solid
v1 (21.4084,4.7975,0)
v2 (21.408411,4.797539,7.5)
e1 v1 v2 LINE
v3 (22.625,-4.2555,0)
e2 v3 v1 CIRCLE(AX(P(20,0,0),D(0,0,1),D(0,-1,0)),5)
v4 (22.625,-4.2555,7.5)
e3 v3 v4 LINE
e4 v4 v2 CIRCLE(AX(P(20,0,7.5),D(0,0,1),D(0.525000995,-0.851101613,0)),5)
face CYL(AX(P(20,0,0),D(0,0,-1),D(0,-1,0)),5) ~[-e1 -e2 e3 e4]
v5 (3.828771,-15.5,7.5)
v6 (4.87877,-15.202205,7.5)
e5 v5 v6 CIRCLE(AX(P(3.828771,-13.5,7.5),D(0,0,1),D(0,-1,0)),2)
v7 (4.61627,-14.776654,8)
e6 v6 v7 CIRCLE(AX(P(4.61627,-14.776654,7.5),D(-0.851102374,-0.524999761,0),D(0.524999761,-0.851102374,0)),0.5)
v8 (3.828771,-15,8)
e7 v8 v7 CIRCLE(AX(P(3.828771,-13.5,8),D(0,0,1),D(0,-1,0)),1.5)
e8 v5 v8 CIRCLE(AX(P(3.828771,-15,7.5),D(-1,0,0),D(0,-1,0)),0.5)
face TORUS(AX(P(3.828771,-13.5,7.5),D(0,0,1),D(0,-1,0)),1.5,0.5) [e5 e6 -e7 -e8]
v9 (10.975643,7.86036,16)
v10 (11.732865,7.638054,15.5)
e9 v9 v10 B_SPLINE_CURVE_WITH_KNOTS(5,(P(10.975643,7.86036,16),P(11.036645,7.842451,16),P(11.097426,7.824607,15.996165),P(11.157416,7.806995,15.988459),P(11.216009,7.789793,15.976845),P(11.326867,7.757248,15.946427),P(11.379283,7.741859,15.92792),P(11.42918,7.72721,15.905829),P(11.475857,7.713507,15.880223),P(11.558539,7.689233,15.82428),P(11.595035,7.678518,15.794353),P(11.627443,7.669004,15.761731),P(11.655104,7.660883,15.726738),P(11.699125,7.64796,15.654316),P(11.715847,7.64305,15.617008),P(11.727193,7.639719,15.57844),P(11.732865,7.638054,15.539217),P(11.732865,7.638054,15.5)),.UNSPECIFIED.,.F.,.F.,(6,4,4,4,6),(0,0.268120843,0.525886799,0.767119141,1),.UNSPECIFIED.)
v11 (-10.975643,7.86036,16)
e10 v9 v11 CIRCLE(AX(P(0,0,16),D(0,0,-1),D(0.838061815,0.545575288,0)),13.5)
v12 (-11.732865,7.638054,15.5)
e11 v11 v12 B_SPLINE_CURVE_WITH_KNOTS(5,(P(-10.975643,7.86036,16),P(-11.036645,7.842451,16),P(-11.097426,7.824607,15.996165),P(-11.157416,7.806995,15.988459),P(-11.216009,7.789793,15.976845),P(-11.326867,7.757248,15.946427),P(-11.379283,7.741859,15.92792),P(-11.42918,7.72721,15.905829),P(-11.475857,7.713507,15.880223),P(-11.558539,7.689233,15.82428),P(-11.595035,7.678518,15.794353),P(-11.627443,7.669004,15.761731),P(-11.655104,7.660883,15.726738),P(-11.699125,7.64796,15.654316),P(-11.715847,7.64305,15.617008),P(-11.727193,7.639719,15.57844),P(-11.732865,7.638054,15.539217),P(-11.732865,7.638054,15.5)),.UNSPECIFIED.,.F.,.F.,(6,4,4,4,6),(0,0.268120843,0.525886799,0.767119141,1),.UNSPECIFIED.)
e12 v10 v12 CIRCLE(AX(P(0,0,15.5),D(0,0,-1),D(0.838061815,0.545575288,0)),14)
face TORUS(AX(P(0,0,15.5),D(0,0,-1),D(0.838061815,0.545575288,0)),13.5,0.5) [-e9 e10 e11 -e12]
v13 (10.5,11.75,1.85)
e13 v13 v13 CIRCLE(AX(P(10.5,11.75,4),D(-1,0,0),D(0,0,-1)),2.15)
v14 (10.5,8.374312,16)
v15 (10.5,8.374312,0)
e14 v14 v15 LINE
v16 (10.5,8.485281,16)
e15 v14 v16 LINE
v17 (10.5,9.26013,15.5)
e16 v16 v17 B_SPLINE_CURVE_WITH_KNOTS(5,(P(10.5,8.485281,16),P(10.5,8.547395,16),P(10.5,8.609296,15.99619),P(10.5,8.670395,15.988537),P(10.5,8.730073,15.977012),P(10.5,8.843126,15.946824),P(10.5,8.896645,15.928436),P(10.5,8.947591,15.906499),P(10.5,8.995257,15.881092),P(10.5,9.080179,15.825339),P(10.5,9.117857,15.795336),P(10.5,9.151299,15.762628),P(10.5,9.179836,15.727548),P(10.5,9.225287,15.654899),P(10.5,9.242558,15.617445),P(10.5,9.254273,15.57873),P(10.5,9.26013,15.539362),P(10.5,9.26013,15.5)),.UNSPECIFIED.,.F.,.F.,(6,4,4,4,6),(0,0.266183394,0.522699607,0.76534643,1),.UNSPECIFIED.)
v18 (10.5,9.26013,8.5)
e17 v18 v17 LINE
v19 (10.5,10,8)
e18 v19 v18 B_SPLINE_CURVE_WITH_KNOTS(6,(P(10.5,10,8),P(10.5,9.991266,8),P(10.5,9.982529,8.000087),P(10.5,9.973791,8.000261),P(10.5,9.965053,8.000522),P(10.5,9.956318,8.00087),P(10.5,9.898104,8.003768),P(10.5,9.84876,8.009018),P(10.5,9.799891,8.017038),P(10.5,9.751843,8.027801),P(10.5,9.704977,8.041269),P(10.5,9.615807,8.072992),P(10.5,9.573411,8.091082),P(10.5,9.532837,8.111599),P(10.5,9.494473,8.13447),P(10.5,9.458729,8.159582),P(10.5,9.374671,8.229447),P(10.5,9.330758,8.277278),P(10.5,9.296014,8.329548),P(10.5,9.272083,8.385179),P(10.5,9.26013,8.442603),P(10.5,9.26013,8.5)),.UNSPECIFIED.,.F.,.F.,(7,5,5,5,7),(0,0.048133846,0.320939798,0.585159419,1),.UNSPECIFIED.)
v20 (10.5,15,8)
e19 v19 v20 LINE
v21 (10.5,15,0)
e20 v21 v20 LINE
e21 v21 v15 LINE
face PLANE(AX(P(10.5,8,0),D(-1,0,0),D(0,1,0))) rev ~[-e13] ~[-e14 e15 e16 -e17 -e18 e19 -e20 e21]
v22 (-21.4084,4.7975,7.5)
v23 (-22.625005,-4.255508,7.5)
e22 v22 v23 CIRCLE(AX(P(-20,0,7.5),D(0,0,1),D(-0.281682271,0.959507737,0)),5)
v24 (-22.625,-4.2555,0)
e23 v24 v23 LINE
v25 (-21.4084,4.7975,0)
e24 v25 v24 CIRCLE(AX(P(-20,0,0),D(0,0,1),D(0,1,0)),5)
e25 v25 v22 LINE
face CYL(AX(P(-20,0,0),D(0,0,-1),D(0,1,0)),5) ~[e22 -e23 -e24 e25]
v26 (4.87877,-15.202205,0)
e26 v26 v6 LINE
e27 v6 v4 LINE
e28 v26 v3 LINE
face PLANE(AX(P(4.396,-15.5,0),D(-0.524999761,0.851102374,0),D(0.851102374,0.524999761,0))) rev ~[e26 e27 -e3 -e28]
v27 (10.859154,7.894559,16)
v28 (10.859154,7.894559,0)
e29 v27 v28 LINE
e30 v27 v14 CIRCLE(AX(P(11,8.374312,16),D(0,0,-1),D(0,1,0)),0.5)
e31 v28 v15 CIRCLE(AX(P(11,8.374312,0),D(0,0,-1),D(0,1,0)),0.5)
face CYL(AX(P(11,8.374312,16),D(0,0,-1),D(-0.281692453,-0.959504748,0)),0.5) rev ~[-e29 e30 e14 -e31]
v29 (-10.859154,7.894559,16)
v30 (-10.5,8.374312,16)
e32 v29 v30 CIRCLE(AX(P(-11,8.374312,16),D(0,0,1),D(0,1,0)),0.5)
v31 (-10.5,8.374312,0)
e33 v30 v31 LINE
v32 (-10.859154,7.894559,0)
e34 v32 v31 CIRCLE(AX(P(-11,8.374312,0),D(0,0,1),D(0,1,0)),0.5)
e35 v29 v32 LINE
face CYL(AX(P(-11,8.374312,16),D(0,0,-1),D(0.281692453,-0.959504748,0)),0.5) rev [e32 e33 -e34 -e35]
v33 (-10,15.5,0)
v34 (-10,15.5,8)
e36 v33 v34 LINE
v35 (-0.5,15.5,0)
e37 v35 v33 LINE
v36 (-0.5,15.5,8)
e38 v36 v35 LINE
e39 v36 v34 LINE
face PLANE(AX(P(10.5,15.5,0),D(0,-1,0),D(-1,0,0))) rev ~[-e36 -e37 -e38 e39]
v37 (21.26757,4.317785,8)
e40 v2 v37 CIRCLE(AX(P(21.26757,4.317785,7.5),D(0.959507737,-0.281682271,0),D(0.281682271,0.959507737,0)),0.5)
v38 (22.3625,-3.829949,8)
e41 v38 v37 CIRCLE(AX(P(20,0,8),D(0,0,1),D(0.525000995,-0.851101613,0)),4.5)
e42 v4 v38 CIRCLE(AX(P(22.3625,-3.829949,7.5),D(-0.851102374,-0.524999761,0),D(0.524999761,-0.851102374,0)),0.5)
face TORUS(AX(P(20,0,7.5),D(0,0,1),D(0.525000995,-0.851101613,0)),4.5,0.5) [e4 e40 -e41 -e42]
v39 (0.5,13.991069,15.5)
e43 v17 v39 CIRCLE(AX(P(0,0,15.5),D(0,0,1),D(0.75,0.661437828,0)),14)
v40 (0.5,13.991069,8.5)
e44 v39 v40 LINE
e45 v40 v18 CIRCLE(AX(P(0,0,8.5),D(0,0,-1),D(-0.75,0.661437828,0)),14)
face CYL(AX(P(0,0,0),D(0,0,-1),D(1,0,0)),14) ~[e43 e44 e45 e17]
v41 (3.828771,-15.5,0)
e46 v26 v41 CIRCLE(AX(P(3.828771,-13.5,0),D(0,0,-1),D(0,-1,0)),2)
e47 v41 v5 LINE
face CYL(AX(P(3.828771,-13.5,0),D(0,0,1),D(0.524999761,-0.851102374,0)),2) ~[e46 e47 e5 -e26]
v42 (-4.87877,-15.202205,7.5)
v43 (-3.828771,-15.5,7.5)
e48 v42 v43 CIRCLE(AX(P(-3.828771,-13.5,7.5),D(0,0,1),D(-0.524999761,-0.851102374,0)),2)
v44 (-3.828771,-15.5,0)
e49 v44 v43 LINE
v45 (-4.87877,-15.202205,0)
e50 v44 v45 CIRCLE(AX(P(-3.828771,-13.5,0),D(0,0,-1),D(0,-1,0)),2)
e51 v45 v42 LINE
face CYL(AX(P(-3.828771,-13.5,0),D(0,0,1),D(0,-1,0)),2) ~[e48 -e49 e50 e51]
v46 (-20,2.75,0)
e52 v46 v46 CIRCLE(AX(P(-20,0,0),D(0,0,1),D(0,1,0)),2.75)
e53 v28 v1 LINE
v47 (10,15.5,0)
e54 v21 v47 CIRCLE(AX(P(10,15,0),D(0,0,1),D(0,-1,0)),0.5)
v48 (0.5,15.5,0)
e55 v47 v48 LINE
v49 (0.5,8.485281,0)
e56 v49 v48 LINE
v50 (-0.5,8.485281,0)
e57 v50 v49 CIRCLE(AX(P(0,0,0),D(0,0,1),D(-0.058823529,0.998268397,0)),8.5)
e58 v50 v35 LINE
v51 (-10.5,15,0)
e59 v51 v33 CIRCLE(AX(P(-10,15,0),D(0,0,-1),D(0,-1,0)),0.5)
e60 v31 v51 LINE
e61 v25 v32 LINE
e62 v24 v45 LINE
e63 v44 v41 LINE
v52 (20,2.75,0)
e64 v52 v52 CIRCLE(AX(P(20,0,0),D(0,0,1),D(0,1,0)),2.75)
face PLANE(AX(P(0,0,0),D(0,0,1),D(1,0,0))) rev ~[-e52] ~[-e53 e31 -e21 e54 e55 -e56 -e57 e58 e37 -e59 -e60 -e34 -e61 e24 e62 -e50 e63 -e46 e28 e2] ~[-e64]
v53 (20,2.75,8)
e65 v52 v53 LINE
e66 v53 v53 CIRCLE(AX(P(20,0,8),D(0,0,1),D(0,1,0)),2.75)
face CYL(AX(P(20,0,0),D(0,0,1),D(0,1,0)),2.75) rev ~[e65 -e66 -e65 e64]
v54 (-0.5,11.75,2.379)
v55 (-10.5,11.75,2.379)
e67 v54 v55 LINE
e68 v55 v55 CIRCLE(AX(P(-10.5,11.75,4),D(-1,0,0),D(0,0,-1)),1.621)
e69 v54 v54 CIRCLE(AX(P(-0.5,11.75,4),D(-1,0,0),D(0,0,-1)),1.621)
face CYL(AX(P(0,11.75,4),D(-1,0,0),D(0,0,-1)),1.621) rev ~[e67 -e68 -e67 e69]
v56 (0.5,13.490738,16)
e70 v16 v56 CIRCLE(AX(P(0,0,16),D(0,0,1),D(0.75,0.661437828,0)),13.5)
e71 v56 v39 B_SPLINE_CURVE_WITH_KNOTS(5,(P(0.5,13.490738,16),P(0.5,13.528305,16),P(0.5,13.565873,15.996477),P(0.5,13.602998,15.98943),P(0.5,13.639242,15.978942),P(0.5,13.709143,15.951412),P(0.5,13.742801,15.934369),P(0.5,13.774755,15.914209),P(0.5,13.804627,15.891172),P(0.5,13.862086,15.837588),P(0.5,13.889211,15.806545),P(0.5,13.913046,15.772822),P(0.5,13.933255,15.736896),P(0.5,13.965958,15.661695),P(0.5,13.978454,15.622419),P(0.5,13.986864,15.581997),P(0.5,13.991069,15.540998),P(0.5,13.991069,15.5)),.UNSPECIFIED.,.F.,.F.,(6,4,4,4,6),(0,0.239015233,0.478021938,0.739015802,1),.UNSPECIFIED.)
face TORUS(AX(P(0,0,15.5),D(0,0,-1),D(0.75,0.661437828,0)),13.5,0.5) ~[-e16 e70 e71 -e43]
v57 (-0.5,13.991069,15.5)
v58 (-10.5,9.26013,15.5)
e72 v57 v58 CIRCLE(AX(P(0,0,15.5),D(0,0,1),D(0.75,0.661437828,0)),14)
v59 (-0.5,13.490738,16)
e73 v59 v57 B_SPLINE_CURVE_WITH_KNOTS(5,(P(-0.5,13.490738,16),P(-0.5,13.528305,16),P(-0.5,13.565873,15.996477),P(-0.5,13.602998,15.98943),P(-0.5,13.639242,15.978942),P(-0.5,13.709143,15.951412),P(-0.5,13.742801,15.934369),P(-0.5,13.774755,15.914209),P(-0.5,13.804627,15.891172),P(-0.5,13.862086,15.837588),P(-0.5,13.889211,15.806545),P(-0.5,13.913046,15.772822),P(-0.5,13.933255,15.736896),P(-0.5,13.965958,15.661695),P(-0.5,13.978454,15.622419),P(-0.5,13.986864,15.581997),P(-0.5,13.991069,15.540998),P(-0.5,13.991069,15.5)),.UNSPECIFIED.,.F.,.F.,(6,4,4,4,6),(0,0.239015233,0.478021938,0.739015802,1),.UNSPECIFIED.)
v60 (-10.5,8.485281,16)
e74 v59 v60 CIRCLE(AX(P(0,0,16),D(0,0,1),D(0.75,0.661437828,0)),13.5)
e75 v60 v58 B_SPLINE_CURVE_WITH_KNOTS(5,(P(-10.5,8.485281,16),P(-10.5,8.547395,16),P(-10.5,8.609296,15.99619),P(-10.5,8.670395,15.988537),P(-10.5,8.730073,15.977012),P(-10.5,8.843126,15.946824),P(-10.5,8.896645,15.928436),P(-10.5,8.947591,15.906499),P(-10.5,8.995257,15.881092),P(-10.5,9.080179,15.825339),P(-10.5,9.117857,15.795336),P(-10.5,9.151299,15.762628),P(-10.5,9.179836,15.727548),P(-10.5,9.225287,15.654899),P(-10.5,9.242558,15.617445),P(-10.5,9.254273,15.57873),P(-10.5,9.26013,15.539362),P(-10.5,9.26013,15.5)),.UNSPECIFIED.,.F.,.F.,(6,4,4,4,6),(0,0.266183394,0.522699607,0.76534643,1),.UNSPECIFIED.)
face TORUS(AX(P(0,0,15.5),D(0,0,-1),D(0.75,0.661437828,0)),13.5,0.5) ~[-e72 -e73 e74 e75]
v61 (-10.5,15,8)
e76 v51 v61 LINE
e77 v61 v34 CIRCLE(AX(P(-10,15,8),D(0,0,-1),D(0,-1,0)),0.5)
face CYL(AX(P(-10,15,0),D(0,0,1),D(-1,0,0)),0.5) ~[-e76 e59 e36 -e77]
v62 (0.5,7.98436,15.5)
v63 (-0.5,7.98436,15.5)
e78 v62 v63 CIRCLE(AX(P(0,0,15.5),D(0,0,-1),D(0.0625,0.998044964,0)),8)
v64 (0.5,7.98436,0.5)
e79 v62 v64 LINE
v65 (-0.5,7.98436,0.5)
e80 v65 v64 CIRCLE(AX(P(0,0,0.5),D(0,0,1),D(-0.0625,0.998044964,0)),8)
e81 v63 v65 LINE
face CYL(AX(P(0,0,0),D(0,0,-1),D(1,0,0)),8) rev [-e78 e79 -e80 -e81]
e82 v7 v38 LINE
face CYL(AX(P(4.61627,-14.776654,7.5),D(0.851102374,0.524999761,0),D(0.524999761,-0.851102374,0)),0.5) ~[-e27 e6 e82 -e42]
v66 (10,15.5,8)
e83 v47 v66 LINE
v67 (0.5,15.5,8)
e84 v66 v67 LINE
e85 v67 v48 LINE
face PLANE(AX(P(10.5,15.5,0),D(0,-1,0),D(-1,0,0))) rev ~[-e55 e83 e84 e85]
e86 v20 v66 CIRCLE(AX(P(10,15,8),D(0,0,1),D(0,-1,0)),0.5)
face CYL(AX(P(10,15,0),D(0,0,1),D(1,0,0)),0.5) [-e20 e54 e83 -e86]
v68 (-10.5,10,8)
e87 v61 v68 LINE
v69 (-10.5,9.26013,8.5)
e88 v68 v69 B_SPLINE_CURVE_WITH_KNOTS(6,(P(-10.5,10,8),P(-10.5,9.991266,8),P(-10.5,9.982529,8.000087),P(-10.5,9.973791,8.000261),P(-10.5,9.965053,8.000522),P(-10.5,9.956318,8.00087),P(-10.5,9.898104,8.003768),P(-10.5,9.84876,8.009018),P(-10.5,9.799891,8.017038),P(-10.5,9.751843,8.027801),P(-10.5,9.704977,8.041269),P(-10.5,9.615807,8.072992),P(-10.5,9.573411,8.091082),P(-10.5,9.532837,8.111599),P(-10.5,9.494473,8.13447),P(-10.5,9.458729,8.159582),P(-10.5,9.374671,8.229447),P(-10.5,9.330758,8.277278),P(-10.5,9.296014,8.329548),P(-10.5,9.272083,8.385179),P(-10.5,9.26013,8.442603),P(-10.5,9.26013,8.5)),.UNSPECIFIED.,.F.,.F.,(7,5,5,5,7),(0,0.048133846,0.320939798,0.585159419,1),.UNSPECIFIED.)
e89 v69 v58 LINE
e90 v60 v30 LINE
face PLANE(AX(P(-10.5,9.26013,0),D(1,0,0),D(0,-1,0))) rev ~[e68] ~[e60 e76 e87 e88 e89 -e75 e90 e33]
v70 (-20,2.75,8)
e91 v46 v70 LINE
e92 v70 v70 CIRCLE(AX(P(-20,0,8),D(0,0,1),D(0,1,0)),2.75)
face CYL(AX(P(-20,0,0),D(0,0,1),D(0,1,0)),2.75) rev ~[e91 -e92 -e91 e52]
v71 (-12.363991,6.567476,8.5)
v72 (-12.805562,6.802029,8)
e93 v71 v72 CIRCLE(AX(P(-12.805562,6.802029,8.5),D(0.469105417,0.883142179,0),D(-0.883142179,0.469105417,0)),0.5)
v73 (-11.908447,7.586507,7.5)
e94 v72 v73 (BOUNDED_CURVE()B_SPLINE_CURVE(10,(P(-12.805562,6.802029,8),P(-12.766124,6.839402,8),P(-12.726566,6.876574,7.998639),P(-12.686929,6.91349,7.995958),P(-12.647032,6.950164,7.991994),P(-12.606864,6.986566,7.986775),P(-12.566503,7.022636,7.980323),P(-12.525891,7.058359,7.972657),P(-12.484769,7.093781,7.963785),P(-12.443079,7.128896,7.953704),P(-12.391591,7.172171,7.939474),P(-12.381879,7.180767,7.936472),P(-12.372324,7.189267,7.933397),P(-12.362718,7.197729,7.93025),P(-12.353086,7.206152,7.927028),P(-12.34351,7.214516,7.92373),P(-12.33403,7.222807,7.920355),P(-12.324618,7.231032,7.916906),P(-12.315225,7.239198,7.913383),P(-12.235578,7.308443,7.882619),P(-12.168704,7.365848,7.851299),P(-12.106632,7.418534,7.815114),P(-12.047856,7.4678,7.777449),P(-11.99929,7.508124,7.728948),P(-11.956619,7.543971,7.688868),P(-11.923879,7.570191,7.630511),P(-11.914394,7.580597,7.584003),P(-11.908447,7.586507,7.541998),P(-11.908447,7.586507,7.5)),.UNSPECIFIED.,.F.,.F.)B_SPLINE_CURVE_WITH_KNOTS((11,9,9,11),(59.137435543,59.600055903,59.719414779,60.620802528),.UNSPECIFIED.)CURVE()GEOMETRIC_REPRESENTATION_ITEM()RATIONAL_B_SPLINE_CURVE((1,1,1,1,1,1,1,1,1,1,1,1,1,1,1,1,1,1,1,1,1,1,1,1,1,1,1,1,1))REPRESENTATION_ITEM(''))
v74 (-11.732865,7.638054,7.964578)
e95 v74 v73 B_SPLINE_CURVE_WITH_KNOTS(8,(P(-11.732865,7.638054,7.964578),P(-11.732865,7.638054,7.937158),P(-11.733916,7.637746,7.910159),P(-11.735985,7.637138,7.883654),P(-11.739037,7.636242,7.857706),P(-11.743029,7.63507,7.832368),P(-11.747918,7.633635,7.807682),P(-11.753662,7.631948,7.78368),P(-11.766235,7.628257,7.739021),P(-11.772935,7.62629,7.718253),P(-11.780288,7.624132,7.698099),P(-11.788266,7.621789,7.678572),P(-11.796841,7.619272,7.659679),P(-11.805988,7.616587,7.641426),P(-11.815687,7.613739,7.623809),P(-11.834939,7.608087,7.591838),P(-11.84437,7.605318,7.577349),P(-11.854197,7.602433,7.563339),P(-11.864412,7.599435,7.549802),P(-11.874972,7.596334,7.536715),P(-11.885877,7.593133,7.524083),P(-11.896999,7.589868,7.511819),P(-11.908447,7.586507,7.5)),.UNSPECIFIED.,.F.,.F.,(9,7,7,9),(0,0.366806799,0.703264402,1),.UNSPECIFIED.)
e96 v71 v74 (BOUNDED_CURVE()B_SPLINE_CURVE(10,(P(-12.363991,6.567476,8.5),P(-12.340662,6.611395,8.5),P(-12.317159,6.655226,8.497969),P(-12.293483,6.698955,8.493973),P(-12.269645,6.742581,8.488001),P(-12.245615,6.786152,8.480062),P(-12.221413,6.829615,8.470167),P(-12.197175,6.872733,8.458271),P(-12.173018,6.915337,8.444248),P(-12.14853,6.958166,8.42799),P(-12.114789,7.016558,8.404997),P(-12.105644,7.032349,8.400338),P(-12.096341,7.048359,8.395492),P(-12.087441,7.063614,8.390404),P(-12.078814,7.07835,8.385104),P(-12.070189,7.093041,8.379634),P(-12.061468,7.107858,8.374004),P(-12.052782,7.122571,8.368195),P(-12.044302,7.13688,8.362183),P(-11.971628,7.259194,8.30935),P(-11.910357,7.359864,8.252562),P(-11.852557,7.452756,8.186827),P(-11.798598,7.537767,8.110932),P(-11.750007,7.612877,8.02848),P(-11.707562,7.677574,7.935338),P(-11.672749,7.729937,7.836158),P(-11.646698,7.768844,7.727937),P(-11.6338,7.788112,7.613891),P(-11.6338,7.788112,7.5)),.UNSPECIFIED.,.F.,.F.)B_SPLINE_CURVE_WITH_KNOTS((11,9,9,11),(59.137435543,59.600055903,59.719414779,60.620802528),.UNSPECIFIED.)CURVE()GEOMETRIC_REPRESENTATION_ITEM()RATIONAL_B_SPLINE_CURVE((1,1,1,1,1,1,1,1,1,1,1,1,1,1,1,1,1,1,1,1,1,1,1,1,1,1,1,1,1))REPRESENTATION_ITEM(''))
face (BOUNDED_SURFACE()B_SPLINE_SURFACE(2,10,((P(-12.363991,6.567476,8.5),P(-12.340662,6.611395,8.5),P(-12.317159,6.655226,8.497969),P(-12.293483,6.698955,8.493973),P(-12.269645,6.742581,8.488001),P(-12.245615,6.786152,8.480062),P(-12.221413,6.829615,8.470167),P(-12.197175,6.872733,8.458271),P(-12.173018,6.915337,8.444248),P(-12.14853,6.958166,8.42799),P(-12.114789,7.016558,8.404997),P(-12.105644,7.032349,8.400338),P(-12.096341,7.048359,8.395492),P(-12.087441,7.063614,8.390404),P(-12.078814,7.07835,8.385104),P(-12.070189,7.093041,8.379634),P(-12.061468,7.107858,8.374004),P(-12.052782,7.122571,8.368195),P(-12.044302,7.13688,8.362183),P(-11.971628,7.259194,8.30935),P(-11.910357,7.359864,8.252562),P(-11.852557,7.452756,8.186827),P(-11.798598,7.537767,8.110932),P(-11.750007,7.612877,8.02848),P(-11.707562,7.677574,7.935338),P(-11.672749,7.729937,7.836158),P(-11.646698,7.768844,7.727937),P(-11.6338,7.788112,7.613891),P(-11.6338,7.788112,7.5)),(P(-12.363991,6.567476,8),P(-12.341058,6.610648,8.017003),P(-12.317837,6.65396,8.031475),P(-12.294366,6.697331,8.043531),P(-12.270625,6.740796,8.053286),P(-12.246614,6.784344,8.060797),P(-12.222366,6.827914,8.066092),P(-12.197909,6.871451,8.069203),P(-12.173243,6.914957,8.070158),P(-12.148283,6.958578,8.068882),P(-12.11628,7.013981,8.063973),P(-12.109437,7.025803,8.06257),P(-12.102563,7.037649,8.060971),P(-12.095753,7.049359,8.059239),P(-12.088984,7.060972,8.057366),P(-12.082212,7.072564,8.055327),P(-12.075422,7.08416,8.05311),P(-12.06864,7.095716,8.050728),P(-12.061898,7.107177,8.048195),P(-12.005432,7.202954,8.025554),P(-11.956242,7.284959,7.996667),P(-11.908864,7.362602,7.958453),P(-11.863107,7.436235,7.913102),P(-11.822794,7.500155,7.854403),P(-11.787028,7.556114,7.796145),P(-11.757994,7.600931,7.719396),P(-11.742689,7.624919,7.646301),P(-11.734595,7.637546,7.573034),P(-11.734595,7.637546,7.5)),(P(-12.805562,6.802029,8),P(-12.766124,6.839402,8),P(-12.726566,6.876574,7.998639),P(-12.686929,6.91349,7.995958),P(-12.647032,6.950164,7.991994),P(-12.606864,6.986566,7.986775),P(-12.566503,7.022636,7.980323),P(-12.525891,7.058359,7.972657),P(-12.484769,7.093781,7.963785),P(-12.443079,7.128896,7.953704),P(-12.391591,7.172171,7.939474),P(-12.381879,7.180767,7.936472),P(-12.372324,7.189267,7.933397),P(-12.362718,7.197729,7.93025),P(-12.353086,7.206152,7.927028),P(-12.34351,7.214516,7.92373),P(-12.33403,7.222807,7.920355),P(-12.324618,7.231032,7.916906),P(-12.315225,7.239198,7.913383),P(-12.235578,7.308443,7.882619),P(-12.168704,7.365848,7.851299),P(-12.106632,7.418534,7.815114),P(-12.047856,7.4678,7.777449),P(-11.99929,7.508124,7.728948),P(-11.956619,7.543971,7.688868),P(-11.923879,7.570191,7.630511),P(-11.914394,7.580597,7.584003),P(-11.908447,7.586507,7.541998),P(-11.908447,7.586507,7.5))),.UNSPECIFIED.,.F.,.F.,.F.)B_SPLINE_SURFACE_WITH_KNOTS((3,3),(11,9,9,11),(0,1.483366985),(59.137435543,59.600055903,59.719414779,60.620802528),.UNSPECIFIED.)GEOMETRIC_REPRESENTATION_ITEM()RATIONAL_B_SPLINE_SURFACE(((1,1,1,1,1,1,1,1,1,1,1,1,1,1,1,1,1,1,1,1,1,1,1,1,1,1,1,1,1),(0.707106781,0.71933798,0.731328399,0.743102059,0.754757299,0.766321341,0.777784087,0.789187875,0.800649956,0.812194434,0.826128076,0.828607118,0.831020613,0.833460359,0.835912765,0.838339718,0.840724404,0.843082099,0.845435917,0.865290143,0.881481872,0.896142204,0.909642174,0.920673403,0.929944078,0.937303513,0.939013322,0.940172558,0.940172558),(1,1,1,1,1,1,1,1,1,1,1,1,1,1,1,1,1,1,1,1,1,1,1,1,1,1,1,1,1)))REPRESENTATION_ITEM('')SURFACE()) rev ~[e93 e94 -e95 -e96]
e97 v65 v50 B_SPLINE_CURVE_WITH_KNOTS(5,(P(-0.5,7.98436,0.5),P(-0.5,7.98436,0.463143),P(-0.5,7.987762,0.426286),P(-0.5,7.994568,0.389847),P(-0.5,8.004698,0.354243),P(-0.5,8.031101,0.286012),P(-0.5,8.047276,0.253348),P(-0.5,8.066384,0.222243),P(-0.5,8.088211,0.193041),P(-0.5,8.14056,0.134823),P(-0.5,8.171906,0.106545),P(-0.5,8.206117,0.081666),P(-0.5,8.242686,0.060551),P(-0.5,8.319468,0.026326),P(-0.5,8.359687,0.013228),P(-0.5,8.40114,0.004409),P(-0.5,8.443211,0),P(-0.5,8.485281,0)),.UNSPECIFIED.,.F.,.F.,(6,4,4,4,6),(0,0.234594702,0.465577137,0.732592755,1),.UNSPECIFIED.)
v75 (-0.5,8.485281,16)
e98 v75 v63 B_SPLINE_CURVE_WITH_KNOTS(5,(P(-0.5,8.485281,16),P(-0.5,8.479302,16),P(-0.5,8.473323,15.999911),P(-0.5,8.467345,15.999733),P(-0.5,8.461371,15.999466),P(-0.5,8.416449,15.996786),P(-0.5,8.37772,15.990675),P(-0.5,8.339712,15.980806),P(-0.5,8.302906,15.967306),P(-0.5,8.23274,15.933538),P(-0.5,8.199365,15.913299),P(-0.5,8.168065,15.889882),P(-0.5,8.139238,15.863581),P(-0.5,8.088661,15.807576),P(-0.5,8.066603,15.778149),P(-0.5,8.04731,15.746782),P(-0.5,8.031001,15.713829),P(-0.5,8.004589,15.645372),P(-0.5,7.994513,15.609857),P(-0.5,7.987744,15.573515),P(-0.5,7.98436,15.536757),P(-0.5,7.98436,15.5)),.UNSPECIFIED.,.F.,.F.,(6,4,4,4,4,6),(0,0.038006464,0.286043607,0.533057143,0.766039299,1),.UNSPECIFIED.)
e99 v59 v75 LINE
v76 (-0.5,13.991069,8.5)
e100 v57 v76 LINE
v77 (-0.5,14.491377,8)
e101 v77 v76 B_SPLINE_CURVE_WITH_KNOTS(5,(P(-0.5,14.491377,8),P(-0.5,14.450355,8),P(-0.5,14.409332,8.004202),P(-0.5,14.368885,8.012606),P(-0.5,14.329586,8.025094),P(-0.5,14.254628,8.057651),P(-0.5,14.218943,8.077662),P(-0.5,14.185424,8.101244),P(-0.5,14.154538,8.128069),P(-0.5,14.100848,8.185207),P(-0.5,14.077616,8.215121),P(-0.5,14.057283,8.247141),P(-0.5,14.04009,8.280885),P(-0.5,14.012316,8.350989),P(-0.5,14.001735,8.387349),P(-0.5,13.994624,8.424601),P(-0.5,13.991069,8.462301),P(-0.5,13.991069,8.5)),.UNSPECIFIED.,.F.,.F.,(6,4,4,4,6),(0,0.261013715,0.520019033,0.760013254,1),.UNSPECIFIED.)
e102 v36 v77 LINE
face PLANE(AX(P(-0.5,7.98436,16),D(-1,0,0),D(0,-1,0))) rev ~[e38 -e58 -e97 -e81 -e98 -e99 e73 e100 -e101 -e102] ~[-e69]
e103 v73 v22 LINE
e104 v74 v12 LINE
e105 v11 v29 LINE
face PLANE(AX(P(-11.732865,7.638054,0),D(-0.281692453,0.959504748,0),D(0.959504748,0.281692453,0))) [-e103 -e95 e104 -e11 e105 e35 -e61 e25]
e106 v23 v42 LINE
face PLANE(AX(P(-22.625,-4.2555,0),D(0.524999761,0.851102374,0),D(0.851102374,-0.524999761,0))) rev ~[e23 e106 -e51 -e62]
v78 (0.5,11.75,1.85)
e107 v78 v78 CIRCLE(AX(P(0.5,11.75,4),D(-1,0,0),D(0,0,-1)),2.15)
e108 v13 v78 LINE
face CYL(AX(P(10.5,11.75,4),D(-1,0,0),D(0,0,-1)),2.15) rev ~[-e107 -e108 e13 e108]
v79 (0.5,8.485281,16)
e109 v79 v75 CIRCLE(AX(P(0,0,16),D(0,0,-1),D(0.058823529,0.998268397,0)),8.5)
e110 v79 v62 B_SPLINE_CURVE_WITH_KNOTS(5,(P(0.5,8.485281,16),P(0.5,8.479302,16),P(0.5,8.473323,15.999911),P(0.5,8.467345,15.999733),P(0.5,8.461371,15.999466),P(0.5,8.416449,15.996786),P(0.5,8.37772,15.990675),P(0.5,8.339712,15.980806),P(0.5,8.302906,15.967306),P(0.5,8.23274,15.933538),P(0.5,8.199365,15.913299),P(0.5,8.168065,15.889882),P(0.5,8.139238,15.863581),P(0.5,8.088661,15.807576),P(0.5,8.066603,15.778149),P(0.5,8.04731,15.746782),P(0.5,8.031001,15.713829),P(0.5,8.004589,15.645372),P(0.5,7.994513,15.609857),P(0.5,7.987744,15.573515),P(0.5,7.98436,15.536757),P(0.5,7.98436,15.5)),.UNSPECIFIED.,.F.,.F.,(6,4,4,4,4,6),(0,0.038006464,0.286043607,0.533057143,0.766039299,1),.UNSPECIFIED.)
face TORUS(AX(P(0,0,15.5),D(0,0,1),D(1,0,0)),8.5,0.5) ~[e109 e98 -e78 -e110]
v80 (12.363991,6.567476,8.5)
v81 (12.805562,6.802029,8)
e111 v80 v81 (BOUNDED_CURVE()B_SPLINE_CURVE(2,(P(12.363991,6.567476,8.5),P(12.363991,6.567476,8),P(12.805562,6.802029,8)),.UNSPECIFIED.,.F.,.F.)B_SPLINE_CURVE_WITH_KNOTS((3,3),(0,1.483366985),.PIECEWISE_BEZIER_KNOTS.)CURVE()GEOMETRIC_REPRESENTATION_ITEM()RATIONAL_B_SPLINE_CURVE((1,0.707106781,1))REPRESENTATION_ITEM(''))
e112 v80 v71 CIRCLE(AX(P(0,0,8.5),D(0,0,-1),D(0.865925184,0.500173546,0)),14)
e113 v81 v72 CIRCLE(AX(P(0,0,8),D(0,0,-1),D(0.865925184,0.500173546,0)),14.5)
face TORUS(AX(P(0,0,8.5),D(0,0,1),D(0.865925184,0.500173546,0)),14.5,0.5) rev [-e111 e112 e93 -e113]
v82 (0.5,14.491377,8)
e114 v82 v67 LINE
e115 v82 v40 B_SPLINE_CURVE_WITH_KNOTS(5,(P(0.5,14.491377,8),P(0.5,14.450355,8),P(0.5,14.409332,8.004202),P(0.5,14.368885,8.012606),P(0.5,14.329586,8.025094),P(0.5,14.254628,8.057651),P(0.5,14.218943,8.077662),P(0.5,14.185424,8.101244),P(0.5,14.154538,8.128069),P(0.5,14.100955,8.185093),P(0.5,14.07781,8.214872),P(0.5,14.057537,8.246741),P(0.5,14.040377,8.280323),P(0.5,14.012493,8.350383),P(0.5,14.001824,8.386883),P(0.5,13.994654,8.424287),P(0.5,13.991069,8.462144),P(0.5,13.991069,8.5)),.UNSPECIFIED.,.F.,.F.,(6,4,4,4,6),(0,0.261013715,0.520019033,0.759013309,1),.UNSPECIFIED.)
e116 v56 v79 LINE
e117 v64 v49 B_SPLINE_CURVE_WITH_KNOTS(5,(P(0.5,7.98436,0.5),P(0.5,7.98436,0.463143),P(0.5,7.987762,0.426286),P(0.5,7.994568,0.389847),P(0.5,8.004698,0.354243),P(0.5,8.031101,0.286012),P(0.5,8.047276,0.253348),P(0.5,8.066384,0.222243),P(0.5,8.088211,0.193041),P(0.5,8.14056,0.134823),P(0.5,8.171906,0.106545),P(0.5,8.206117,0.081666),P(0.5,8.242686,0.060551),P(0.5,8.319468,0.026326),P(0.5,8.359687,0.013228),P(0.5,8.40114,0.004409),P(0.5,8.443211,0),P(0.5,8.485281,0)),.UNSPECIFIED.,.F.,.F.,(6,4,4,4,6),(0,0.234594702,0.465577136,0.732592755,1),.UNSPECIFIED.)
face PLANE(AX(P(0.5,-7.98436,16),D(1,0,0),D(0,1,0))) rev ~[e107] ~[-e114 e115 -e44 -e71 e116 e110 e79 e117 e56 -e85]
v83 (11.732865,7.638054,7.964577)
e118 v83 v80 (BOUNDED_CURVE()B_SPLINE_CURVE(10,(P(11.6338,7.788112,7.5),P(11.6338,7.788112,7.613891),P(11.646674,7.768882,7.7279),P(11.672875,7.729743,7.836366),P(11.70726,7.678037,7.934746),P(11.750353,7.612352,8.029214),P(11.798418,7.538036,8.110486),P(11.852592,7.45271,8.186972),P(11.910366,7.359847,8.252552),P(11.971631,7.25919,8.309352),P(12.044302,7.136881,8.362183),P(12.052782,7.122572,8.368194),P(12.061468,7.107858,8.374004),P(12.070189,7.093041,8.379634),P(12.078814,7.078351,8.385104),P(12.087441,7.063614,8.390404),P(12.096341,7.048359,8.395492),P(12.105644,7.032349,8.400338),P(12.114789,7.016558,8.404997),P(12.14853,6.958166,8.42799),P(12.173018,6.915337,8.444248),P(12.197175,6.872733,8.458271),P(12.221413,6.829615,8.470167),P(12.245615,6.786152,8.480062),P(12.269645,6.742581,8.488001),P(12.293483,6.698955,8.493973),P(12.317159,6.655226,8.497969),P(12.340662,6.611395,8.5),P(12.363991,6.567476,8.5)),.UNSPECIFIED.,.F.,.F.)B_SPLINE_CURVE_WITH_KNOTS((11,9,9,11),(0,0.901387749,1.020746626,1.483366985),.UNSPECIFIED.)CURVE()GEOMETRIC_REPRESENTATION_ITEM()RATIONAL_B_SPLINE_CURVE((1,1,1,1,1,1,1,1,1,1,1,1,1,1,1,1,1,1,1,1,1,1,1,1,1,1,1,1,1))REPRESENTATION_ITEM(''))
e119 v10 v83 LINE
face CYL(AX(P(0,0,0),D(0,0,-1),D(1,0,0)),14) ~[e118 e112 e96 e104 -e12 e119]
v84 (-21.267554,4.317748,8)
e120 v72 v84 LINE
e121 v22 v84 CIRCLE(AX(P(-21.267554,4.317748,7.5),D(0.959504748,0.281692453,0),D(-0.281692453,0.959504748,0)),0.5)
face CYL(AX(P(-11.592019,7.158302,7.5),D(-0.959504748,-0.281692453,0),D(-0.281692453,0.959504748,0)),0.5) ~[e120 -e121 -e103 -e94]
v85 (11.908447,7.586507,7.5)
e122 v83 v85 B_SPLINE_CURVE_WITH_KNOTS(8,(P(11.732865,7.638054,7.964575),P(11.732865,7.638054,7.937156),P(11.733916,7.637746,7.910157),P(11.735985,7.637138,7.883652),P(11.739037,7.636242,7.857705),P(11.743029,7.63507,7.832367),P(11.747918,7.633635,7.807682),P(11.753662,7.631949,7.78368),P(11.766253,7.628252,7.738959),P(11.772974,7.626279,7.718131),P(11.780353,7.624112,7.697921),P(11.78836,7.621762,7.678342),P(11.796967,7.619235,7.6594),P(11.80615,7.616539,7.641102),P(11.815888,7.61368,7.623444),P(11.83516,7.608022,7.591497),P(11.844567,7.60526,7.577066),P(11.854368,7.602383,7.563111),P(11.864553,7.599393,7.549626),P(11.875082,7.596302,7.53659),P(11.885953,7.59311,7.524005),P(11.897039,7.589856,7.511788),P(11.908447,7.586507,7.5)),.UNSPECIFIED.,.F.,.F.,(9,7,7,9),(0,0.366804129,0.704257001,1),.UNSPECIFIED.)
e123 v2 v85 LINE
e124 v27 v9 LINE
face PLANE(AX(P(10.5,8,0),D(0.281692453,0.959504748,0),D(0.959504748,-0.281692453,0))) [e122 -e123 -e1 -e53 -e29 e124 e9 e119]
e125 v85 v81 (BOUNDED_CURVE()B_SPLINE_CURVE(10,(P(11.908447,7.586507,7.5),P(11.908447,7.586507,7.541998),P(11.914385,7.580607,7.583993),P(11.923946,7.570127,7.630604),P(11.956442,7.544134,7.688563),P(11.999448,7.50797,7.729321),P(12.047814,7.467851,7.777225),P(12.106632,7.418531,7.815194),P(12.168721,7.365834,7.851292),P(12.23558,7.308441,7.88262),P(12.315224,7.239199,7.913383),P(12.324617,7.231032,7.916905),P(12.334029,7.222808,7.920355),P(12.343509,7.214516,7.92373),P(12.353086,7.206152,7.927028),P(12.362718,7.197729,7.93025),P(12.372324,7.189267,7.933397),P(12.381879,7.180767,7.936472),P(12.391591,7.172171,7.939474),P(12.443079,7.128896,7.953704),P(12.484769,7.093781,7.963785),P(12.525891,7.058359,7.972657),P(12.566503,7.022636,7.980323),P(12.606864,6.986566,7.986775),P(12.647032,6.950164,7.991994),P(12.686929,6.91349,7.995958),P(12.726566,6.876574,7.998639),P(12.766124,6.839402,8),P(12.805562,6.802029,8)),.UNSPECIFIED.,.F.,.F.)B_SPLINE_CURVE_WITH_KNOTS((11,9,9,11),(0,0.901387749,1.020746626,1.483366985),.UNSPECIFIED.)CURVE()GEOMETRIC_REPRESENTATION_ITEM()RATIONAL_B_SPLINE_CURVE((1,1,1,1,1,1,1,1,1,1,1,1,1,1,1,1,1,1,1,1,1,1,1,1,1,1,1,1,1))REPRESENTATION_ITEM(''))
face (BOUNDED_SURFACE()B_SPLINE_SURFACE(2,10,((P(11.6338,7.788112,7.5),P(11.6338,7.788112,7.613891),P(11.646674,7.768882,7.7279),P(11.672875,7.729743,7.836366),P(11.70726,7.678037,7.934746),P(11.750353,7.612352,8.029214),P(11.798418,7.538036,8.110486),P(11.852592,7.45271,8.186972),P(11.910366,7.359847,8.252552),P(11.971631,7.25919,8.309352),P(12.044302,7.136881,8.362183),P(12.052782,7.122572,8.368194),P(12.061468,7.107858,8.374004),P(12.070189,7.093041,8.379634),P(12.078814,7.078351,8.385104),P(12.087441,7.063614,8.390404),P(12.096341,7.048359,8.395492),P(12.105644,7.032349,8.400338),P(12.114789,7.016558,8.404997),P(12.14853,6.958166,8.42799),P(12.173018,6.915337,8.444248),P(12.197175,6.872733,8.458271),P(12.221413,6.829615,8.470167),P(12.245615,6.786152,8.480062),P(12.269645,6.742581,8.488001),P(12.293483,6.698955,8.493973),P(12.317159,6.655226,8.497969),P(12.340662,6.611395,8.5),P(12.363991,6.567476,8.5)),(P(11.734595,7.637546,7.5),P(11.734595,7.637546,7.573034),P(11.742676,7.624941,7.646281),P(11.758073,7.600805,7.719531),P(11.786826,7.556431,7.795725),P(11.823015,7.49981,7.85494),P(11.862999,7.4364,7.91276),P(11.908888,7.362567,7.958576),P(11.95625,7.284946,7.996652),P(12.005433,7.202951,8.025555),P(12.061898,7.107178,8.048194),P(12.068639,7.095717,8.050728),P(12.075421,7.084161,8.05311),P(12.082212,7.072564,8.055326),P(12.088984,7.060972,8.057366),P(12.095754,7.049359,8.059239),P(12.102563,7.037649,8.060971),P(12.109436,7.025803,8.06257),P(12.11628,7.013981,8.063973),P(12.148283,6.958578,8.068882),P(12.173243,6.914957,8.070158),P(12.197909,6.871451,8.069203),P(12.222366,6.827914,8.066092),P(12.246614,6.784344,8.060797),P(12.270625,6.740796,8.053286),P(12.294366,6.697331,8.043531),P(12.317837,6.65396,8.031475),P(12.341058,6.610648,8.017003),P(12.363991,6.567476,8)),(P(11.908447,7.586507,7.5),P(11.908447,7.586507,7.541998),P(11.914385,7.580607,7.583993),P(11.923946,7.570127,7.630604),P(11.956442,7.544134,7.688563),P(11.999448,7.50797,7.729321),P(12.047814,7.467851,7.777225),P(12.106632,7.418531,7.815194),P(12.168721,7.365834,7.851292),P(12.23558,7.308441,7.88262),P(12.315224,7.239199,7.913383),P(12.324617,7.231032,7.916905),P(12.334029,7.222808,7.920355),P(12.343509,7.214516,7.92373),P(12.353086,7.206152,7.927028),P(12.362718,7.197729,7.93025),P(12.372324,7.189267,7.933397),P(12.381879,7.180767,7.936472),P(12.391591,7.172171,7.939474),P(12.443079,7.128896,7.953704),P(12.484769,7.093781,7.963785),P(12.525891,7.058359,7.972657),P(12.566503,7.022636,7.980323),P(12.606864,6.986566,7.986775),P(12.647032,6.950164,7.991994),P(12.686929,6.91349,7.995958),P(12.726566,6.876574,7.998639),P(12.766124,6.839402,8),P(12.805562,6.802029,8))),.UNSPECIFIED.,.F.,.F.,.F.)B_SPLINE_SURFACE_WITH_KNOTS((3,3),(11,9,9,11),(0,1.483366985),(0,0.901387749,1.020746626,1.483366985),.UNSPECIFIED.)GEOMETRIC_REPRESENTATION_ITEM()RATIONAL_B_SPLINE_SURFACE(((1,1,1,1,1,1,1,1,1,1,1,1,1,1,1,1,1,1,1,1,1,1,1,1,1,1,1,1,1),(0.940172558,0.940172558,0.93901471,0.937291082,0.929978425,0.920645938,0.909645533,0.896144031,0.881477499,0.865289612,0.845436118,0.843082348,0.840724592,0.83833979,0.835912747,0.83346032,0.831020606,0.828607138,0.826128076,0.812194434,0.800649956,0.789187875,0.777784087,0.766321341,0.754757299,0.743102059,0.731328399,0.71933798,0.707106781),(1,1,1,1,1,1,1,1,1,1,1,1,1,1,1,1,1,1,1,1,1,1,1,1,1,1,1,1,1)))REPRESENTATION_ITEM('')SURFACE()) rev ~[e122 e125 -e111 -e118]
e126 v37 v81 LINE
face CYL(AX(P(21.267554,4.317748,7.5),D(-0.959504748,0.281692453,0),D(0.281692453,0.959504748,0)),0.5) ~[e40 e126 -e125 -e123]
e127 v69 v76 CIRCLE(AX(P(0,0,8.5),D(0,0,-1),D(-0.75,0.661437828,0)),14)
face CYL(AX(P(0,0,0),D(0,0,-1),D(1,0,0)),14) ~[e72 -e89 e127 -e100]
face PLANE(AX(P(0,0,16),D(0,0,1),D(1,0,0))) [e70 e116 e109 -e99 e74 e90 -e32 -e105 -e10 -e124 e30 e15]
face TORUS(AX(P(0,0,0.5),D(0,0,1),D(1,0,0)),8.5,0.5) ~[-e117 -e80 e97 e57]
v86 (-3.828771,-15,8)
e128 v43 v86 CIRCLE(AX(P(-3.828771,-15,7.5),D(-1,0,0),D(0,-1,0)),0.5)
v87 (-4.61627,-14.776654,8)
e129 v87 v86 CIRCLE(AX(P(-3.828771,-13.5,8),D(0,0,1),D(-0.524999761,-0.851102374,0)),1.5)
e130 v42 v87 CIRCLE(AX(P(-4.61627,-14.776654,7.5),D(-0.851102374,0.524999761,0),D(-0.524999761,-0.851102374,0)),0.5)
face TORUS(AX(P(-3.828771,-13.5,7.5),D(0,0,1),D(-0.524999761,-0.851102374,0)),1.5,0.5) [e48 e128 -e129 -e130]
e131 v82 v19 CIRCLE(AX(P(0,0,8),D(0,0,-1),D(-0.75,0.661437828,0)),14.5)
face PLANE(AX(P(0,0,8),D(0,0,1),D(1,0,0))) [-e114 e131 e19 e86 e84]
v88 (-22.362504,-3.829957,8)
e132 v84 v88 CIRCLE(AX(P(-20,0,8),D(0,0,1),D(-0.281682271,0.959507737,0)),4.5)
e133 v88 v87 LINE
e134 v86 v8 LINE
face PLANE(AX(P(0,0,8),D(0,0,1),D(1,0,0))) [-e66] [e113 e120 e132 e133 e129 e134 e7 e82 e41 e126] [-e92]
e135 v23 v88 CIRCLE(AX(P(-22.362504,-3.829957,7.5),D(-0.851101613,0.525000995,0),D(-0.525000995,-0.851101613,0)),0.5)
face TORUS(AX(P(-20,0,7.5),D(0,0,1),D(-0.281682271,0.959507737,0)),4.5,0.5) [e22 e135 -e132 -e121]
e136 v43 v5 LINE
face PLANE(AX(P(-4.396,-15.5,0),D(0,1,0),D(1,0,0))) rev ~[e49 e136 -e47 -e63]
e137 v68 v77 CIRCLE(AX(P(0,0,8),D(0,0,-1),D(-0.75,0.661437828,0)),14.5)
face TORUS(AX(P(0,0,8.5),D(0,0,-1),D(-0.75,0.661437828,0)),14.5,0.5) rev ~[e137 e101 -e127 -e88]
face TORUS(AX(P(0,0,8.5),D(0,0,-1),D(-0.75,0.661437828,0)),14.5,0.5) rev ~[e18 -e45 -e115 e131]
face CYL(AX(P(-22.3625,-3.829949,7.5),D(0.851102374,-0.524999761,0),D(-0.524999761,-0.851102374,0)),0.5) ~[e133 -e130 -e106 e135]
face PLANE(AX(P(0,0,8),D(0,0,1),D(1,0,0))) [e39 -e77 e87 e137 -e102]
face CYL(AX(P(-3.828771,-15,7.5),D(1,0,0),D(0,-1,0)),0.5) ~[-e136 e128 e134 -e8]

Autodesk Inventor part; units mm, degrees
ref_plane "YZ Plane" through (0, 0, 0) normal (1, 0, 0) x (0, 1, 0)
ref_plane "XZ Plane" through (0, 0, 0) normal (0, 1, 0) x (-1, 0, 0)
sketch "Sketch1" plane through (0, 0, 0) normal (0, 0, 1) x (1, 0, 0)
  circle A0 centre (0, 0) radius 14
  circle A1 centre (0, 0) radius 8
  line L0 (-20, 0) -> (20, 0) construction
  line L1 (25, -15.5) -> (-25, -15.5) construction
  line L2 (-25, -15.5) -> (-25, 15.5) construction
  line L3 (-25, 15.5) -> (25, 15.5) construction
  line L4 (25, 15.5) -> (25, -15.5) construction
  line L5 (25, -15.5) -> (-25, 15.5) construction
  line L6 (-25, -15.5) -> (25, 15.5) construction
  line L7 (20, 0) -> (-20, 0) construction
  line L8 (20, 5) -> (-20, 5)
  line L9 (-20, -5) -> (20, -5)
  arc A2 (20, -5) -> (20, 5) centre (20, 0) ccw
  arc A3 (-20, 5) -> (-20, -5) centre (-20, 0) ccw
  circle A4 centre (0, 0) radius 15.5 construction
  line L10 (-22.625, -4.2555) -> (-4.396, -15.5)
  line L11 (-4.396, -15.5) -> (4.396, -15.5)
  line L12 (4.396, -15.5) -> (22.625, -4.2555)
  line L13 (10.5, 15.5) -> (-10.5, 15.5)
  line L14 (-10.5, 15.5) -> (-10.5, 8)
  line L15 (-10.5, 8) -> (10.5, 8)
  line L16 (10.5, 8) -> (10.5, 15.5)
  line L17 (10.5, 15.5) -> (-10.5, 8) construction
  line L18 (-10.5, 15.5) -> (10.5, 8) construction
  line L19 (-21.4084, 4.7975) -> (-10.5, 8)
  line L20 (10.5, 8) -> (21.4084, 4.7975)
  line L21 (-10.5, 11.75) -> (10.5, 11.75) construction
  point P0 (0, 11.75)
  point P1 (0, 15.5)
  point P2 (11.7329, 7.6381)
  point P3 (10.5, 9.2601)
  point P4 (-10.5, 9.2601)
  point P5 (-11.7329, 7.6381)
  dimension "d0" = 28
  dimension "d1" = 16
  dimension "d2" = 40
  dimension "d3" = 50
  dimension "d4" = 31
  dimension "d5" = 7.5
  dimension "d6" = 21
extrude "Extrusion1" add sketch "Sketch1" along normal blind 8 contours A0 L9 A1 L8 | A0 L8 A2 L9 | L8 A1 L15 L20 A0 | A0 L20 A2 L8 | L9 A2 L12 L11 L10 A3 A0 | A0 L9 A1 | L9 A3 L8 A0 | A0 L8 A1 L9 | L16 L15 L14 A0 | A0 L14 L13 L16 | A1 L8 A0 L19 L15 | L8 A3 L19 A0
extrude "Extrusion2" add sketch "Sketch1" along normal blind 16 contours A0 L9 A1 L8 | L8 A1 L15 L20 A0 | A0 L9 A1 | A0 L8 A1 L9 | L16 L15 L14 A0 | A1 L8 A0 L19 L15
fillet "Fillet1" radius 2 2 edges at (-4.396, -15.5, 4) (4.396, -15.5, 4)
fillet "Fillet4" radius 0.5 9 edges at (24.9555, 0.6659, 8) (13.7519, -9.7289, 8) (4.3745, -15.4241, 8) (0, -15.5, 8) (-4.3745, -15.4241, 8) (-13.7519, -9.7289, 8) (-24.9555, 0.6659, 8) (-16.5707, 6.2178, 8) (16.5707, 6.2178, 8)
fillet "Fillet2" radius 0.5 4 edges at (0, -14, 16) (0, 14, 16) (0, -14, 8) (0, 14, 8)
fillet "Fillet3" radius 0.5 2 edges at (10.5, 8, 8) (-10.5, 8, 8)
fillet "Fillet5" radius 0.5 2 edges at (-8, 0, 16) (-8, 0, 0)
fillet "Fillet6" radius 0.5 2 edges at (10.5, 15.5, 4) (-10.5, 15.5, 4)
hole "Hole1" at (20, 0, 0) at (-20, 0, 0) direction (0, 0, 1) diameter 5.5 end through all
ref_plane "Work Plane1" through (0, 0, 4) normal (0, 0, 1) x (1, 0, 0)
sketch "Sketch2" plane through (10.5, 9.2601, 15.5) normal (1, 0, 0) x (0, 0, -1)
  line L0 (11.5, -30.9601) -> (11.5, 12.4399) construction
  point P0 (15.5, -9.2601)
  point P1 (15.5, 2.4899)
  point P2 (15.5, 2.4899)
  point P3 (15.5, 2.4899)
  point P4 (11.5, 2.4899)
hole "Hole2" at (10.5, 11.75, 4) direction (-1, 0, 0) diameter 3.242 end through all counterbore diameter 4.3 counterbore depth 10.5 thread size "M4x0.7" class "6H" standard "ANSI Metric M Profile"
sketch "Sketch3" plane through (0, 0, 16) normal (0, 0, 1) x (1, 0, 0)
  circle A0 centre (0, 0) radius 8 projected
  line L0 (0.5, 15.5) -> (-0.5, 15.5)
  line L1 (-0.5, 15.5) -> (-0.5, -15.5)
  line L2 (-0.5, -15.5) -> (0.5, -15.5)
  line L3 (0.5, -15.5) -> (0.5, 15.5)
  line L4 (0.5, 15.5) -> (-0.5, -15.5) construction
  line L5 (-0.5, 15.5) -> (0.5, -15.5) construction
  line L6 (10, 15.5) -> (-10, 15.5) projected
  point P0 (0.5, -7.9844)
  point P1 (-0.5, -7.9844)
  dimension "d31" = 1
extrude "Extrusion3" cut sketch "Sketch3" against normal up to surface (16 mm away) contours L3 A0 L1 | A0 L1 L0 L3
sketch "Sketch4" plane through (0, 0, 0) normal (0, 0, 1) x (1, 0, 0)
  line L0 (29.4856, 6.0705) -> (-9.4856, 28.5705) construction
  line L1 (-9.4856, 28.5705) -> (-29.4856, -6.0705) construction
  line L2 (-29.4856, -6.0705) -> (9.4856, -28.5705) construction
  line L3 (9.4856, -28.5705) -> (29.4856, 6.0705) construction
  line L4 (29.4856, 6.0705) -> (-29.4856, -6.0705) construction
  line L5 (-9.4856, 28.5705) -> (9.4856, -28.5705) construction
  line L6 (24.4856, -2.5897) -> (-14.4856, 19.9103) construction
  line L7 (-14.4856, 19.9103) -> (-24.4856, 2.5897) construction
  line L8 (-24.4856, 2.5897) -> (14.4856, -19.9103) construction
  line L9 (14.4856, -19.9103) -> (24.4856, -2.5897) construction
  line L10 (24.4856, -2.5897) -> (-24.4856, 2.5897) construction
  line L11 (-14.4856, 19.9103) -> (14.4856, -19.9103) construction
  circle A0 centre (-20, 0) radius 2.75 construction
  line L12 (24.4856, 2.5897) -> (-14.4856, -19.9103) construction
  line L13 (-14.4856, -19.9103) -> (-24.4856, -2.5897) construction
  line L14 (-24.4856, -2.5897) -> (14.4856, 19.9103) construction
  line L15 (14.4856, 19.9103) -> (24.4856, 2.5897) construction
  line L16 (24.4856, 2.5897) -> (-24.4856, -2.5897) construction
  line L17 (-14.4856, -19.9103) -> (14.4856, 19.9103) construction
  point P0 (0, 0)
  dimension "d34" = 40
  dimension "d35" = 20
  dimension "d36" = 45
  dimension "d37" = 20
ref_plane "Work Plane2" through (0, 0, 0) normal (-0.5, -0.866, 0) x (0.866, -0.5, 0)
ref_plane "Work Plane3" through (0, 0, 0) normal (-0.5, 0.866, 0) x (-0.866, -0.5, 0)
properties part number "SHF16" material "Aluminum 6061"
